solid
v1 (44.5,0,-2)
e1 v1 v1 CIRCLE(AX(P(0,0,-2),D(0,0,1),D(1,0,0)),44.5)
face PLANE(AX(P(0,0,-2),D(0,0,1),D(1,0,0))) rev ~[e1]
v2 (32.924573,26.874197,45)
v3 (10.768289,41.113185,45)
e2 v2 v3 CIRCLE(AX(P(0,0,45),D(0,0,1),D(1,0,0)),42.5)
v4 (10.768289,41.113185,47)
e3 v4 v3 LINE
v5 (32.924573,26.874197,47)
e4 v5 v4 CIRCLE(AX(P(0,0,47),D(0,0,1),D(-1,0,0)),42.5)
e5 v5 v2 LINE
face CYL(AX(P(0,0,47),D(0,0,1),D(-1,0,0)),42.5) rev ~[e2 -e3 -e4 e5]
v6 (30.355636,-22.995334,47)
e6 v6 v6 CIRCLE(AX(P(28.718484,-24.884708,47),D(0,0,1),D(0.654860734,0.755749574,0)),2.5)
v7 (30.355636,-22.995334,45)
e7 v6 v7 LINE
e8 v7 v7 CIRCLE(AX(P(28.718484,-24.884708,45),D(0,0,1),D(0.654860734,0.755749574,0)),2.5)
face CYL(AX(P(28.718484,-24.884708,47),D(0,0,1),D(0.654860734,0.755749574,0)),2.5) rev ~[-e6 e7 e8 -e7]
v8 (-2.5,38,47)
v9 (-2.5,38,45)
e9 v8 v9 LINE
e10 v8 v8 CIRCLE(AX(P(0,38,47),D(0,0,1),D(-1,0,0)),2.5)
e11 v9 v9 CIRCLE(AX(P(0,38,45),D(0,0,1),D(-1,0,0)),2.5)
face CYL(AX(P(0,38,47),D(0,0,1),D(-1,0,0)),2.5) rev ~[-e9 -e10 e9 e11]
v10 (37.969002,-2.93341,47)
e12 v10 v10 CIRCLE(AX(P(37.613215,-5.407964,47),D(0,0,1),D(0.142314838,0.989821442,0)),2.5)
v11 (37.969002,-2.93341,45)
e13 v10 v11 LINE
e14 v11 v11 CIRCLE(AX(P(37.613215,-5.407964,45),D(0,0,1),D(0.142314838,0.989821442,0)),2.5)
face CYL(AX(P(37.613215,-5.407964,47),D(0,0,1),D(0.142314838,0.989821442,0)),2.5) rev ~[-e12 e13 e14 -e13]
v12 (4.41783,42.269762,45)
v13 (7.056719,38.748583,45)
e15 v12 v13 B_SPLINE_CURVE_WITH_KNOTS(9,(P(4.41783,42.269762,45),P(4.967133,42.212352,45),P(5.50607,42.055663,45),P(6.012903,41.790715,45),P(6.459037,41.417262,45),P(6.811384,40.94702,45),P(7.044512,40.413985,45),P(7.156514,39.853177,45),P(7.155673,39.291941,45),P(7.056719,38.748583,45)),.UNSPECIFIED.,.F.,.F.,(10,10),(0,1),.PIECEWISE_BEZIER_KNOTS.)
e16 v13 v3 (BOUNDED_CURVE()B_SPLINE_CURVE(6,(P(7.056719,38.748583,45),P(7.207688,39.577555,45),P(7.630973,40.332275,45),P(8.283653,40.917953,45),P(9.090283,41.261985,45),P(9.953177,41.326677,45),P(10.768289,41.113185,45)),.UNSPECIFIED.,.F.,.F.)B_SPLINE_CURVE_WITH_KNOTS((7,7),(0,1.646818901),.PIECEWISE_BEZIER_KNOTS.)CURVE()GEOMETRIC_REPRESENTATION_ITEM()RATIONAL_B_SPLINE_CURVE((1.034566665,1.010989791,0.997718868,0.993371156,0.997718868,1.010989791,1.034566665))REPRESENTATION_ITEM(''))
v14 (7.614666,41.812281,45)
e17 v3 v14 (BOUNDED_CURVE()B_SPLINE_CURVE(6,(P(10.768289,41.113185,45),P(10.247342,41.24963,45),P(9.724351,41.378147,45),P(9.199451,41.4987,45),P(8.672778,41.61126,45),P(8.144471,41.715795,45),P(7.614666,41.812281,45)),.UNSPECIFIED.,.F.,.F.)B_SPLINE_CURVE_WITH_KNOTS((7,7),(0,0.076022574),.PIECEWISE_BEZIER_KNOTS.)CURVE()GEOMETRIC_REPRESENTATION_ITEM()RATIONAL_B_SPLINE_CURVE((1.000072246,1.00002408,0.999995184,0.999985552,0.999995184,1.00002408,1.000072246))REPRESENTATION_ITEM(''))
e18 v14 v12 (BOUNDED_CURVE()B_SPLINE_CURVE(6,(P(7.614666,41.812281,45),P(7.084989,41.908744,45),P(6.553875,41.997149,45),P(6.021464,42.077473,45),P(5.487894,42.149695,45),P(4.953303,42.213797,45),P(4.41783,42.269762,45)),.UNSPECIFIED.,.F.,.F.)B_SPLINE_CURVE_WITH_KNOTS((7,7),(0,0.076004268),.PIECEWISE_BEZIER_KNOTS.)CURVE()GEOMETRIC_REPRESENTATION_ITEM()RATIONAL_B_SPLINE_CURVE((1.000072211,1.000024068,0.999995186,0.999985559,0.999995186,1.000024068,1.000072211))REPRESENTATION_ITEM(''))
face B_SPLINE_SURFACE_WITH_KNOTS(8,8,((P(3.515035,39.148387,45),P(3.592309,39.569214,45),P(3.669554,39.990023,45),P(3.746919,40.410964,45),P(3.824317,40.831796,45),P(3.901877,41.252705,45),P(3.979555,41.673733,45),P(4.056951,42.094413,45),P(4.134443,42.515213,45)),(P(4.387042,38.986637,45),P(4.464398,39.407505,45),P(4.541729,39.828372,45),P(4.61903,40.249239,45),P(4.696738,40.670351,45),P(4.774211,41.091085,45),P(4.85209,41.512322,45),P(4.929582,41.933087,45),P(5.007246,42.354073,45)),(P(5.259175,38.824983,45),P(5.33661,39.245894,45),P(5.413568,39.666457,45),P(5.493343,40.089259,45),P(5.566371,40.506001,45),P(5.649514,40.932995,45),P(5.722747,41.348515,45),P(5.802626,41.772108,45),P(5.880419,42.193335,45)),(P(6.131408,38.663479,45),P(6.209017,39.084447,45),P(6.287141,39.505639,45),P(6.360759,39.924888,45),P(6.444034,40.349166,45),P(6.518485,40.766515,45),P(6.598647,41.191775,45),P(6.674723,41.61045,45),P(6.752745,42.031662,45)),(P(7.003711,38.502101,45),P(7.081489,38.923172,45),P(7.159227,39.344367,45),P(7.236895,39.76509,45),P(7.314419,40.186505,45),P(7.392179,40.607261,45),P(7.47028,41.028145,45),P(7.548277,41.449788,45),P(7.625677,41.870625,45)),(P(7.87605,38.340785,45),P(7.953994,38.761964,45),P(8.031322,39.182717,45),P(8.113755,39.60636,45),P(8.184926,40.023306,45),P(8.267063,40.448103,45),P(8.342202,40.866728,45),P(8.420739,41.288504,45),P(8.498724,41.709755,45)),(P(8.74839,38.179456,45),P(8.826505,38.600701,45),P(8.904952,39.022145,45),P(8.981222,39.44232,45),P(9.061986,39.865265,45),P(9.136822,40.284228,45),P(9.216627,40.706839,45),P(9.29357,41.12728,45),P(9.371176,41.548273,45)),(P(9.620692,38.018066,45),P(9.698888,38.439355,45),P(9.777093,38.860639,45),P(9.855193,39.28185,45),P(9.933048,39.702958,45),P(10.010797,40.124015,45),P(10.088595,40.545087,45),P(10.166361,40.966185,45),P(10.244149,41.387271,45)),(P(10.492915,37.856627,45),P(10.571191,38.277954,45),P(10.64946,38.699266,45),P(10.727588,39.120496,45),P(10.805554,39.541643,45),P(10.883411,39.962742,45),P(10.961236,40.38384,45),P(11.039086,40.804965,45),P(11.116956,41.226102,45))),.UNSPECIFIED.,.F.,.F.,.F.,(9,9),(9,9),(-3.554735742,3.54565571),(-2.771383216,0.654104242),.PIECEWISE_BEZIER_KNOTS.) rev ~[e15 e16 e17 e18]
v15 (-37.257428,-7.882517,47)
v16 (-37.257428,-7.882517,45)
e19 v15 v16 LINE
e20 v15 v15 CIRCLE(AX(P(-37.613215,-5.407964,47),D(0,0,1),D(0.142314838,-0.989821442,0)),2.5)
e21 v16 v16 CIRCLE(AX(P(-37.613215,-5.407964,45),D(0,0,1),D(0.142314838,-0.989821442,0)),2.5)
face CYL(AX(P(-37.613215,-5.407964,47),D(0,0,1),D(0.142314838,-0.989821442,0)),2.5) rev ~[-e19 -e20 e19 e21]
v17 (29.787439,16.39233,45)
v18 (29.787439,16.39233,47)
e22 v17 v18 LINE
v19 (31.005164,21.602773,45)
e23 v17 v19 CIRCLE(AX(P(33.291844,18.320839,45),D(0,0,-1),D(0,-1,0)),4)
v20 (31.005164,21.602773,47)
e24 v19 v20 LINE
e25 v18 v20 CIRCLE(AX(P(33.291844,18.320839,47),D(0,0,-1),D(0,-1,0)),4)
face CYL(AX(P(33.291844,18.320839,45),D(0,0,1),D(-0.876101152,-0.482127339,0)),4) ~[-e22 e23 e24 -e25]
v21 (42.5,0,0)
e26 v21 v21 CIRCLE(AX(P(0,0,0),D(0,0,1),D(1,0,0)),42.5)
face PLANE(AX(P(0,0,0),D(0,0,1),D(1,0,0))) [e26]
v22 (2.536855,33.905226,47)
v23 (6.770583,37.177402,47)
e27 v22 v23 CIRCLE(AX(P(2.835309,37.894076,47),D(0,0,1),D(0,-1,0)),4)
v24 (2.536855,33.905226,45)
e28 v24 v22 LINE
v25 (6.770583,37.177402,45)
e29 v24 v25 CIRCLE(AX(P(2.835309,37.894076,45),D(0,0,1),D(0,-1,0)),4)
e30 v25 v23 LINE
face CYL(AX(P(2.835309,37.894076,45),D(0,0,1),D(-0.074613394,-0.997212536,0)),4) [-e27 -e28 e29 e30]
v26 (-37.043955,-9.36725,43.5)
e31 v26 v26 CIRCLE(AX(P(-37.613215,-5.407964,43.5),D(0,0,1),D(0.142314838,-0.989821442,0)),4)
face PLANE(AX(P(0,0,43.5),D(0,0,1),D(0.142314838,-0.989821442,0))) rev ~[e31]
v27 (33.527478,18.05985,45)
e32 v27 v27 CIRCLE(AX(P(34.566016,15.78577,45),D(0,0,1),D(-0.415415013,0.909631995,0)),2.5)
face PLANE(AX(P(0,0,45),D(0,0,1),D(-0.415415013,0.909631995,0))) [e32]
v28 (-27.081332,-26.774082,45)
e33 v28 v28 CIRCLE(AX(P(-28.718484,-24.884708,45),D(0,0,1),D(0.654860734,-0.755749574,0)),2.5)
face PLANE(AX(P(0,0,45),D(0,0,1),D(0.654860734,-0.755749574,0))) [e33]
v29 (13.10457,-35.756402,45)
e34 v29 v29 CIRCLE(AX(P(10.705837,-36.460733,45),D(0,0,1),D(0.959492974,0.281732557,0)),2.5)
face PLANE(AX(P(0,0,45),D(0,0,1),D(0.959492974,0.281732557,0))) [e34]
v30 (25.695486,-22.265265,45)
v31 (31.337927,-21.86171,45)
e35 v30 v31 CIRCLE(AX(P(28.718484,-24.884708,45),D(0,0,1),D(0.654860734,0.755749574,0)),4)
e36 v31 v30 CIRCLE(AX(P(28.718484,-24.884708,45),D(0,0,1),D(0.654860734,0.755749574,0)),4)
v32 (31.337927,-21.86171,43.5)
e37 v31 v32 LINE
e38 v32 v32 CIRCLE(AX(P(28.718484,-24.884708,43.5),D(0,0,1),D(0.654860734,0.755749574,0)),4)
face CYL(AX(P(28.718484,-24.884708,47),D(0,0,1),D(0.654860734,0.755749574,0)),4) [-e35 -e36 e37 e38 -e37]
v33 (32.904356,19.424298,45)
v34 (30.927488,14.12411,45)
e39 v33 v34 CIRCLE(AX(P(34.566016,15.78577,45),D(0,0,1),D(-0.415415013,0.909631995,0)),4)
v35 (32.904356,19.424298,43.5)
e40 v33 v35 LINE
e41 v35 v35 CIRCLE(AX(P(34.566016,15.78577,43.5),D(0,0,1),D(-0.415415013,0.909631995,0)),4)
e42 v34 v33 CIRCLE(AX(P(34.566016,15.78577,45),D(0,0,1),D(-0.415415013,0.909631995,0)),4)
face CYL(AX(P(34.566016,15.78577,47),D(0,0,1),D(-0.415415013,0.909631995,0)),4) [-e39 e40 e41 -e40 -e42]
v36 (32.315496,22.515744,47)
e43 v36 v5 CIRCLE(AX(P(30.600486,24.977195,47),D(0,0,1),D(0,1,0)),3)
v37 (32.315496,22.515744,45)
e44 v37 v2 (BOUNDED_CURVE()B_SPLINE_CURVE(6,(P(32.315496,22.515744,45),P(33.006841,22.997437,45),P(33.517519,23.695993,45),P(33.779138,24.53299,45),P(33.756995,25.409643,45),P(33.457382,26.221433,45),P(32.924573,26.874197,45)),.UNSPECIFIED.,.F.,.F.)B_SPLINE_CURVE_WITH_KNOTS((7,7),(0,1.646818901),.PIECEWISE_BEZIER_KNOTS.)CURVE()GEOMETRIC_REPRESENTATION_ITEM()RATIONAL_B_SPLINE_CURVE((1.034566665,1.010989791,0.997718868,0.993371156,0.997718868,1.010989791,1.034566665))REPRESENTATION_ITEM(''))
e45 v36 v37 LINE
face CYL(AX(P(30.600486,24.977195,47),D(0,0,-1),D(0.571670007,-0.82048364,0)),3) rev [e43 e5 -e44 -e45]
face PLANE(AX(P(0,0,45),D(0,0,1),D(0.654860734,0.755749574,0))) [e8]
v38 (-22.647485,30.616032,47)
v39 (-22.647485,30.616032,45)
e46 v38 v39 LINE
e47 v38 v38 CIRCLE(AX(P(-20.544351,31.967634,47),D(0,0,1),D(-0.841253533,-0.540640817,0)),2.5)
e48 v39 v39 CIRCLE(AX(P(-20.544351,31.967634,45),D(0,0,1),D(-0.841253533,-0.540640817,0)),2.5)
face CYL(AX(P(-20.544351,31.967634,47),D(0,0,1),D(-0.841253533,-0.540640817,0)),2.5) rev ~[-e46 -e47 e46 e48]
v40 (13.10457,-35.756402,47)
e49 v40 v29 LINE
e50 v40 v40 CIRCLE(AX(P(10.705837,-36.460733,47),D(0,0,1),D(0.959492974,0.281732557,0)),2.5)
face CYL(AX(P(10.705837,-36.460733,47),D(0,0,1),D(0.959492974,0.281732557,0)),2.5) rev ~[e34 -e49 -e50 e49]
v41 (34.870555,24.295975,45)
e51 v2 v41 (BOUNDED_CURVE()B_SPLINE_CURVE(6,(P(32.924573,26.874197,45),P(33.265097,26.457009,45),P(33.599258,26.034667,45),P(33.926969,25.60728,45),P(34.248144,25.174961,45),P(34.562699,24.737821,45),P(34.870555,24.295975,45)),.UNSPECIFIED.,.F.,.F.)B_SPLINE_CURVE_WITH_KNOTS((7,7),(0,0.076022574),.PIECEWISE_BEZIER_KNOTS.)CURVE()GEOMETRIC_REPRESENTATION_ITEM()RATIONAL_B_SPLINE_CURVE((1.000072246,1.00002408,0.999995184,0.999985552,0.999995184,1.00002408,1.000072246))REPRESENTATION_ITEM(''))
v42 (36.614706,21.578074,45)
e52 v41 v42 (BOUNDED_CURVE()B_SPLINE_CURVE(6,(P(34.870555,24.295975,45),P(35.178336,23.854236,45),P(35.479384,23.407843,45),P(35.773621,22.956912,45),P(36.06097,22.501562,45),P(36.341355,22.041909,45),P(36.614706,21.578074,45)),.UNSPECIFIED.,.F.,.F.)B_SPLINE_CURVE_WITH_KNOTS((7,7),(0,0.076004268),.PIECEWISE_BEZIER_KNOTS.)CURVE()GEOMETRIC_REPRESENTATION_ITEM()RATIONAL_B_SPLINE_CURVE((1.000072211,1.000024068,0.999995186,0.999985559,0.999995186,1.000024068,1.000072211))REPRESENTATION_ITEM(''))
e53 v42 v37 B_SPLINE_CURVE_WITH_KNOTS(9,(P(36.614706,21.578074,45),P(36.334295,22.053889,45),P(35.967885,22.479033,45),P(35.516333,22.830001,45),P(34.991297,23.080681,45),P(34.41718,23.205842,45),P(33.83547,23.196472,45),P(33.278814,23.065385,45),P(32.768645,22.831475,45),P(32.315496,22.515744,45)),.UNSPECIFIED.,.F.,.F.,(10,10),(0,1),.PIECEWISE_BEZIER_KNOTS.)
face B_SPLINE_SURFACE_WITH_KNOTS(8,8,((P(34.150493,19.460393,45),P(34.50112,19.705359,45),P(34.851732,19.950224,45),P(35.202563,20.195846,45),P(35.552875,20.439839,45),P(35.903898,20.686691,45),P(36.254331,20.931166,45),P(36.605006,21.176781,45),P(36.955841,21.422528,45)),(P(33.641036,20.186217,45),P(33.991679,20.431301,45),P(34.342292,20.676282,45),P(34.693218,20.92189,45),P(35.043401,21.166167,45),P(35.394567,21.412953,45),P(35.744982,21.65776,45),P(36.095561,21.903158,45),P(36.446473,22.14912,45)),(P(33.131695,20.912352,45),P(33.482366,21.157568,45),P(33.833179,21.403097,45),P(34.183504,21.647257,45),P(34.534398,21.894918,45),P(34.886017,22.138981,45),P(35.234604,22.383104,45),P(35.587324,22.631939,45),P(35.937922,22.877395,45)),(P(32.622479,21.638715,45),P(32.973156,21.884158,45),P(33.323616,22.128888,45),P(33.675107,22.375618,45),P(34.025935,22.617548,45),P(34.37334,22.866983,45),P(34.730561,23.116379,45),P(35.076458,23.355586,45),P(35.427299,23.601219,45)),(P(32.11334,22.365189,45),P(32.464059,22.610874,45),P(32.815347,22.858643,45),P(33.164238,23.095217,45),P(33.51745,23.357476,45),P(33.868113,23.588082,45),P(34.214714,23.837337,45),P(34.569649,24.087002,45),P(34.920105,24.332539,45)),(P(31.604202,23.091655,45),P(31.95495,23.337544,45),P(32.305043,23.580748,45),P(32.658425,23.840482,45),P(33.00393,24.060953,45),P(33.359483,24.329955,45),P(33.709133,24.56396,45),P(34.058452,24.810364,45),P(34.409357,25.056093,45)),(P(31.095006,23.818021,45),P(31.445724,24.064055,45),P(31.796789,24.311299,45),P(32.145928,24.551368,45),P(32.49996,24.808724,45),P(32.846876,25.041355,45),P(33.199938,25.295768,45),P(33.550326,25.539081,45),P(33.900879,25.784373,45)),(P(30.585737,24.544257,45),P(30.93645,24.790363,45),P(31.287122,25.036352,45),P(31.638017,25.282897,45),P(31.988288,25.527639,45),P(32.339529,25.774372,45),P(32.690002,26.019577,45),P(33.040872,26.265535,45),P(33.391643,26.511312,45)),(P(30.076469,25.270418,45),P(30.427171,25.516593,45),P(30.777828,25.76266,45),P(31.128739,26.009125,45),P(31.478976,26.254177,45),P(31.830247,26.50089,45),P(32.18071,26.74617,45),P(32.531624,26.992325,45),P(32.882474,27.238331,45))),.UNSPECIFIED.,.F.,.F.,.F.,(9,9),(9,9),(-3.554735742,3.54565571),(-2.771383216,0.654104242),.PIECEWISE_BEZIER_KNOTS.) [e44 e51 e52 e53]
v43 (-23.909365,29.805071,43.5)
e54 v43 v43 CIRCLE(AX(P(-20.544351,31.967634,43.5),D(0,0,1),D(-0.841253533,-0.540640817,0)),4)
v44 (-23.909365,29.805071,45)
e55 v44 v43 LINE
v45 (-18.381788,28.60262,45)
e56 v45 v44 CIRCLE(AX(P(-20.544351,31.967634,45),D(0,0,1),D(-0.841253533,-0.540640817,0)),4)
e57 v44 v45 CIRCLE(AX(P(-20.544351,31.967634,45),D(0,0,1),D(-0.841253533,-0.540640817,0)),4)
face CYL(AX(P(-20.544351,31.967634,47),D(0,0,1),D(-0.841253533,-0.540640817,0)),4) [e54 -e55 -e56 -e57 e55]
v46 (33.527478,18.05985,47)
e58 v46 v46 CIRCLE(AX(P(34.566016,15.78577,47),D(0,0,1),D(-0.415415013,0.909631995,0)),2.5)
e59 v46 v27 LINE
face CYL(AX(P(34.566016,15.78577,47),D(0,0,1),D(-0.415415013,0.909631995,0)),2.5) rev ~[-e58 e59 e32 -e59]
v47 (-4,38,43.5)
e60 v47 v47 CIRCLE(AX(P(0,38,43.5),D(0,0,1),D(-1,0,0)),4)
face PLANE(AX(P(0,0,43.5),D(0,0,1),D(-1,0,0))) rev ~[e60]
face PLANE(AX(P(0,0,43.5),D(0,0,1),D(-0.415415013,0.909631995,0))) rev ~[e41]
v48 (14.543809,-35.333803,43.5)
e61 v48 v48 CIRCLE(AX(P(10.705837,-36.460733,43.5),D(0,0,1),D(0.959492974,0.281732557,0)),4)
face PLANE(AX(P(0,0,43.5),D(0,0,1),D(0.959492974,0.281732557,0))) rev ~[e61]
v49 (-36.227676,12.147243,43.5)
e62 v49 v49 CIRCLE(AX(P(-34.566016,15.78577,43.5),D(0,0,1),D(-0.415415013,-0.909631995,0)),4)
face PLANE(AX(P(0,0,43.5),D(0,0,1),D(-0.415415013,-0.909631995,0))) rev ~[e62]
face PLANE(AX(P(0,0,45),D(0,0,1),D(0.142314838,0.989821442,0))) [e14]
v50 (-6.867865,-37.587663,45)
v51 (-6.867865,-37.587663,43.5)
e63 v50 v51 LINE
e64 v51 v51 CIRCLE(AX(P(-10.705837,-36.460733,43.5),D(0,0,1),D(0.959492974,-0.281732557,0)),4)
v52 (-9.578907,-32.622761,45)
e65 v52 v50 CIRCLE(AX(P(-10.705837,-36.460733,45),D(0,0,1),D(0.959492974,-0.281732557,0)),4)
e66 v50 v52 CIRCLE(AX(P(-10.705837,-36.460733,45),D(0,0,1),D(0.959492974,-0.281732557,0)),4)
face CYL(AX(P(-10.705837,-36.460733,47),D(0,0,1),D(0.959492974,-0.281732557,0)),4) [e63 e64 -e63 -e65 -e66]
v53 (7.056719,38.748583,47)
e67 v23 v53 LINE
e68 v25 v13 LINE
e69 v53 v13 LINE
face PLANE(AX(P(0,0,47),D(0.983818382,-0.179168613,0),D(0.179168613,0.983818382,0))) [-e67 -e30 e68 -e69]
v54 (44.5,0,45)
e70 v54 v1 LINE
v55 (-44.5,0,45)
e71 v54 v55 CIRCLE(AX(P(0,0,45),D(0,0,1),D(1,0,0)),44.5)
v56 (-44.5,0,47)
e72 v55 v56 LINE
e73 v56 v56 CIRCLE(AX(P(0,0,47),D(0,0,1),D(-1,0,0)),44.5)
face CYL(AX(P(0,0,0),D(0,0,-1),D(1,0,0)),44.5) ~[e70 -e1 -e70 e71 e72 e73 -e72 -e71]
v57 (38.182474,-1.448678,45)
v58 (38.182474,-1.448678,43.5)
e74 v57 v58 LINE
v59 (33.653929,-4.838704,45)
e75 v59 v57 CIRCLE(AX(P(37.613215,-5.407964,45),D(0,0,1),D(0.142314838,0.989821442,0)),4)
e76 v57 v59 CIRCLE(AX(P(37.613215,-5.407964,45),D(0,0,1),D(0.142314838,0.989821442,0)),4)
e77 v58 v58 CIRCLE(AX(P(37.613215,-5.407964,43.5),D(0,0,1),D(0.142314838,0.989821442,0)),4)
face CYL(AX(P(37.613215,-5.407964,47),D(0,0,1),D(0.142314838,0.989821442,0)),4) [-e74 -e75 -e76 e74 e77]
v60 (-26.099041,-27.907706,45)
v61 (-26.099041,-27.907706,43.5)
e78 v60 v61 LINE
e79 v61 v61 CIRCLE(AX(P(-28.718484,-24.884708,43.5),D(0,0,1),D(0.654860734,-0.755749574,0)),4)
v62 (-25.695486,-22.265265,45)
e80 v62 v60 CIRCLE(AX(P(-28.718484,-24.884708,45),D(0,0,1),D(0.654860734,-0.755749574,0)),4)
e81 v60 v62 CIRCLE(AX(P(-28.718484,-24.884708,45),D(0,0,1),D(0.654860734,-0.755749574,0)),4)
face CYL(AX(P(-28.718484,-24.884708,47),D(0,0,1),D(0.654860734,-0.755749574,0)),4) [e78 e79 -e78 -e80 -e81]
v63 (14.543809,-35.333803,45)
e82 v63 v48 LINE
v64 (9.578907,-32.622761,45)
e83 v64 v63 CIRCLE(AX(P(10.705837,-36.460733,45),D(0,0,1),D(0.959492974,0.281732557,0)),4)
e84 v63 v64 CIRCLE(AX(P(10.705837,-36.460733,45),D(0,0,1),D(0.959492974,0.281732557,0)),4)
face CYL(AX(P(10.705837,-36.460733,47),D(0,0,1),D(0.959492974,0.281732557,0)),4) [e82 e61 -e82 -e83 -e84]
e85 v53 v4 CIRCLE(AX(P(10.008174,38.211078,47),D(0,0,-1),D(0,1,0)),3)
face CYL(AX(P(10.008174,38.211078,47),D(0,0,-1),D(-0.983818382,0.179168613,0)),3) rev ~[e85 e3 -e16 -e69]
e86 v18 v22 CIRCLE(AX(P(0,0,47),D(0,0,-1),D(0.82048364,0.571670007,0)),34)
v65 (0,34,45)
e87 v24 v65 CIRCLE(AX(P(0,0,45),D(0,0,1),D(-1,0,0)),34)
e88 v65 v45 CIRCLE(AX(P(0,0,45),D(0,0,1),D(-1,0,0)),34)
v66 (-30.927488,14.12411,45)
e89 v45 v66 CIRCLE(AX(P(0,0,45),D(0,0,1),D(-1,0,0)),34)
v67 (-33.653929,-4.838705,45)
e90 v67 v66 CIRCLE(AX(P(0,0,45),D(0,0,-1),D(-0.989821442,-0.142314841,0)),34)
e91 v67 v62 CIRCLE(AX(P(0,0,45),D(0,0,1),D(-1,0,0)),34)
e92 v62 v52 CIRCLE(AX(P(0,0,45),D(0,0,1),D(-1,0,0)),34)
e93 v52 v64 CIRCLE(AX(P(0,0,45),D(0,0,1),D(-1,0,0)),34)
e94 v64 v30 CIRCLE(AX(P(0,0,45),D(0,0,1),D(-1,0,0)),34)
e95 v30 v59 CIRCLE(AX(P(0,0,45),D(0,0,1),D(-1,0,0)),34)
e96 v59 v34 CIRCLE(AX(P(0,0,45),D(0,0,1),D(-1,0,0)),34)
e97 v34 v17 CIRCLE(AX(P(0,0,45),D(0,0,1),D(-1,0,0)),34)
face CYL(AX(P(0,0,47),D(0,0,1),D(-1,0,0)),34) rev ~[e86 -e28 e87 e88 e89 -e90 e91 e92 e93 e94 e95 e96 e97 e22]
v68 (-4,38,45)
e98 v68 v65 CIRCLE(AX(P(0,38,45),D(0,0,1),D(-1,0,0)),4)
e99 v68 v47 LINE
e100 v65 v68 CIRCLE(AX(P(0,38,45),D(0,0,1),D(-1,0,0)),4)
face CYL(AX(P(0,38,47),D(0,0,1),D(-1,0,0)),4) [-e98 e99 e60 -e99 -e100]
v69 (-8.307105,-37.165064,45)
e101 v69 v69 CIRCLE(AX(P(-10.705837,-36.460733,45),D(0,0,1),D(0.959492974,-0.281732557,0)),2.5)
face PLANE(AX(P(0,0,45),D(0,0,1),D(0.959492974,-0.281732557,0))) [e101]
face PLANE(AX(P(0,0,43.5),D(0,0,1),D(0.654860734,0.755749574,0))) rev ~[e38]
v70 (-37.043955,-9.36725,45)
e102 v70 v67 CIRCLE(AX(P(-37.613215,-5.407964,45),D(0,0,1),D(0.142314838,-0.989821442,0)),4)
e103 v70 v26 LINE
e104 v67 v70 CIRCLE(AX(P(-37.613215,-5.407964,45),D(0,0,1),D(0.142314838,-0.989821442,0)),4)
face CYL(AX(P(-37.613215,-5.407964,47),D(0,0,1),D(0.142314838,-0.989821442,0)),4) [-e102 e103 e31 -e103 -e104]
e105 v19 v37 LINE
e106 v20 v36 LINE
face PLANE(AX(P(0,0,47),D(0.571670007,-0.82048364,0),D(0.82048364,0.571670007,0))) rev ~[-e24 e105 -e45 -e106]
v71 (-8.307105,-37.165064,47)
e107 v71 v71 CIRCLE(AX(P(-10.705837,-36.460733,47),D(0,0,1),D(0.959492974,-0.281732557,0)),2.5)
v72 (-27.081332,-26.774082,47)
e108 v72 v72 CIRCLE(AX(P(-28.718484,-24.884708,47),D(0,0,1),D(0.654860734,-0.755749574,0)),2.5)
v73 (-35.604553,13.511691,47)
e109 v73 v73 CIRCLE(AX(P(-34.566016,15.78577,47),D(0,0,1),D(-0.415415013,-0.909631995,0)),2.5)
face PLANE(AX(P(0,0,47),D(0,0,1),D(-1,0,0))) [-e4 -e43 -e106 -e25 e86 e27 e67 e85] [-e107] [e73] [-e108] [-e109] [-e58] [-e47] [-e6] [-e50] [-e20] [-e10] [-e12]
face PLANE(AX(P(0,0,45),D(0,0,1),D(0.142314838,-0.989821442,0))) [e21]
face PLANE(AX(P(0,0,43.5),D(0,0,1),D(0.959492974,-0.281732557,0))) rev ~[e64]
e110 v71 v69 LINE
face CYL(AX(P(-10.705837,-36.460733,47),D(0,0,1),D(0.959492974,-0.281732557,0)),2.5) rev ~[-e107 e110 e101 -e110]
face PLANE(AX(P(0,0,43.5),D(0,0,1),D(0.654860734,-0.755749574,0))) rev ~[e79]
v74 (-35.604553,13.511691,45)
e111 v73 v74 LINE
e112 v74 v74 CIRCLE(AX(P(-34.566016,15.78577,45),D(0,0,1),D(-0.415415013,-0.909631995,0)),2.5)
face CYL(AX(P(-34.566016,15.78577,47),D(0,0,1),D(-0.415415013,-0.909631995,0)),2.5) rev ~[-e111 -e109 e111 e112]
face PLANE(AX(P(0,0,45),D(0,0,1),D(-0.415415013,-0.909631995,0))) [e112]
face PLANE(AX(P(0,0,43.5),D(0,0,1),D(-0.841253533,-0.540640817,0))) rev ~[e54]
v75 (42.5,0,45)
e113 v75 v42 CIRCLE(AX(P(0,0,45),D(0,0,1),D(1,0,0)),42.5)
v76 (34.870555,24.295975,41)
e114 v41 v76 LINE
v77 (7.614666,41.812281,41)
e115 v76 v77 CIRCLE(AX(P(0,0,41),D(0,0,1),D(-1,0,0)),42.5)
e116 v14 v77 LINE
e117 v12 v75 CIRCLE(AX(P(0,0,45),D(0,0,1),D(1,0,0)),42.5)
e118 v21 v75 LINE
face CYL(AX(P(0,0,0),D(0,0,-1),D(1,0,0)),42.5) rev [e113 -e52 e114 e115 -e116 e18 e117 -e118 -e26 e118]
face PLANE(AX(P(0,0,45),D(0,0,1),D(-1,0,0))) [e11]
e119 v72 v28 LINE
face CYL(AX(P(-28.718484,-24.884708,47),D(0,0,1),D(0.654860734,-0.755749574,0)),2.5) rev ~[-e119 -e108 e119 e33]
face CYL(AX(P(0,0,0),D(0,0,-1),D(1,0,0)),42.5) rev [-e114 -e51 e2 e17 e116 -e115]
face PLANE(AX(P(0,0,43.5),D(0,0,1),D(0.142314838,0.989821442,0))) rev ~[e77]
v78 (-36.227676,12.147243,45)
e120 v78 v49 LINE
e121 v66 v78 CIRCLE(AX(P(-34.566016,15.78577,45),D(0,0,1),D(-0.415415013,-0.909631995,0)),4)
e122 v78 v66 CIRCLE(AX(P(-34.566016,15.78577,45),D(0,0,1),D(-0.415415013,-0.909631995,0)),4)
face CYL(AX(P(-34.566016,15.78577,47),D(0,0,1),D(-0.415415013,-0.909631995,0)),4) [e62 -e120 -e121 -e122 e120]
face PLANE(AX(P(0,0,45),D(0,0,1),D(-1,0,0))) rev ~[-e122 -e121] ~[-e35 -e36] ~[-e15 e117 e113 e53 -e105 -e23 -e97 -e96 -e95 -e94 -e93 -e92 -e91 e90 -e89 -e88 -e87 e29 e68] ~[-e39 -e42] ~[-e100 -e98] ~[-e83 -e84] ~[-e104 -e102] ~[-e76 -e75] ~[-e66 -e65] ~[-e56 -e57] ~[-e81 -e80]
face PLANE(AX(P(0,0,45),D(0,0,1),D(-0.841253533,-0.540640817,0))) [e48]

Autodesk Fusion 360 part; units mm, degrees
sketch "Sketch1" plane through (0, 0, 0) normal (0, 0, 1) x (1, 0, 0)
  circle A0 centre (0, 0) radius 44.5
  circle A1 centre (0, 0) radius 42.5
  dimension "d1" = 89
  dimension "d2" = 2
extrude "Extrude1" add sketch "Sketch1" against normal blind 2 contours A0 | A1 makes body 1
extrude "Extrude2" add sketch "Sketch1" along normal blind 45 bodies 1
sketch "Sketch2" plane through (0, 0, 45) normal (0, 0, 1) x (-1, 0, 0)
  circle A0 centre (0, 0) radius 42.5
  circle A1 centre (0, 0) radius 44.5
  circle A2 centre (0, 0) radius 44.5
  dimension "d7" = 89
extrude "Extrude3" add sketch "Sketch2" along normal blind 2 separate body contours A0 | A1 A2 makes body 2
sketch "Sketch3" plane through (0, 0, 47) normal (0, 0, 1) x (-1, 0, 0)
  circle A0 centre (0, 0) radius 44.5
  circle A1 centre (0, -38) radius 2.5
  circle A2 centre (0, -38) radius 4
  dimension "d10" = 5
  dimension "d12" = 1.5
  dimension "d24" = 38
extrude "Extrude4" add sketch "Sketch3" against normal blind 3.5 contours A1 | A2 bodies 2
extrude "Extrude5" cut sketch "Sketch3" against normal blind 2 contours A1 bodies 2
pattern_circular "C-Pattern1" count 11 over 360 about axis through (0, 0, 1.75) along (0, 0, 1) of "Extrude4", "Extrude5"
sketch "Sketch5" plane through (0, 0, 47) normal (0, 0, 1) x (-1, 0, 0)
  circle A0 centre (10.7058, 36.4607) radius 2.5
  circle A1 centre (28.7185, 24.8847) radius 2.5
  circle A2 centre (37.6132, 5.408) radius 2.5
  circle A3 centre (34.566, -15.7858) radius 2.5
  circle A4 centre (20.5444, -31.9676) radius 2.5
  circle A5 centre (0, -38) radius 2.5
  circle A6 centre (0, 0) radius 44.5
  circle A7 centre (0, 0) radius 34
  circle A8 centre (0, -38) radius 4
  circle A9 centre (-37.6132, 5.408) radius 2.5
  circle A10 centre (-28.7185, 24.8847) radius 2.5
  circle A11 centre (-10.7058, 36.4607) radius 2.5
  circle A12 centre (-34.566, -15.7858) radius 2.5
  circle A13 centre (-20.5444, -31.9676) radius 2.5
extrude "Extrude6" cut sketch "Sketch5" against normal blind 5 contours A7 bodies 2
sketch "Sketch7" plane through (0, 0, 47) normal (0, 0, 1) x (-1, 0, 0)
  circle A0 centre (0, 0) radius 34
  circle A1 centre (10.7058, 36.4607) radius 2.5
  circle A2 centre (28.7185, 24.8847) radius 2.5
  circle A3 centre (37.6132, 5.408) radius 2.5
  circle A4 centre (34.566, -15.7858) radius 2.5
  circle A5 centre (20.5444, -31.9676) radius 2.5
  circle A6 centre (0, -38) radius 2.5
  circle A7 centre (0, 0) radius 44.5
  arc A8 (41.3317, -9.8965) -> (42.4456, -2.1489) centre (0, 0) ccw
  arc A9 (34.5241, -8.2665) -> (41.3317, -9.8965) centre (37.9279, -9.0815) ccw
  arc A10 (34.5241, -8.2665) -> (35.4546, -1.795) centre (0, 0) ccw
  arc A11 (42.4456, -2.1489) -> (35.4546, -1.795) centre (38.9501, -1.9719) ccw
  arc A12 (37.9279, -9.0815) -> (38.9501, -1.9719) centre (0, 0) ccw construction
  circle A13 centre (-37.6132, 5.408) radius 2.5
  circle A14 centre (-28.7185, 24.8847) radius 2.5
  circle A15 centre (-10.7058, 36.4607) radius 2.5
  circle A16 centre (-34.566, -15.7858) radius 2.5
  circle A17 centre (34.566, -15.7858) radius 4
  circle A18 centre (37.6132, 5.408) radius 4
  circle A19 centre (-20.5444, -31.9676) radius 2.5
  dimension "d25" = 2
  dimension "d26" = 39
combine "Combine1" operation add target body 1 tool bodies 2
sketch "Sketch9" plane through (0, 0, 47) normal (0, 0, 1) x (-1, 0, 0)
  circle A0 centre (0, 0) radius 44.5 construction
  line L0 (0, 0) -> (-7.973, -43.7799)
  line L1 (0, 0) -> (-36.5115, -25.4393)
  circle A1 centre (0, 0) radius 34 construction
  circle A2 centre (0, 0) radius 42.5
  circle A3 centre (28.7185, 24.8847) radius 4
  circle A4 centre (10.7058, 36.4607) radius 4
extrude "Extrude8" cut sketch "Sketch9" against normal blind 6 contours L0 L1 A2 picked at (-13.7041, -24.73) bodies 1
fillet "Fillet1" radius 4 2 edges at (6.0917, 33.4498, 46) (27.8964, 19.4368, 46) on bodies 1
fillet "Fillet2" radius 3 2 edges at (7.6146, 41.8123, 46) (34.8706, 24.296, 46) on bodies 1
